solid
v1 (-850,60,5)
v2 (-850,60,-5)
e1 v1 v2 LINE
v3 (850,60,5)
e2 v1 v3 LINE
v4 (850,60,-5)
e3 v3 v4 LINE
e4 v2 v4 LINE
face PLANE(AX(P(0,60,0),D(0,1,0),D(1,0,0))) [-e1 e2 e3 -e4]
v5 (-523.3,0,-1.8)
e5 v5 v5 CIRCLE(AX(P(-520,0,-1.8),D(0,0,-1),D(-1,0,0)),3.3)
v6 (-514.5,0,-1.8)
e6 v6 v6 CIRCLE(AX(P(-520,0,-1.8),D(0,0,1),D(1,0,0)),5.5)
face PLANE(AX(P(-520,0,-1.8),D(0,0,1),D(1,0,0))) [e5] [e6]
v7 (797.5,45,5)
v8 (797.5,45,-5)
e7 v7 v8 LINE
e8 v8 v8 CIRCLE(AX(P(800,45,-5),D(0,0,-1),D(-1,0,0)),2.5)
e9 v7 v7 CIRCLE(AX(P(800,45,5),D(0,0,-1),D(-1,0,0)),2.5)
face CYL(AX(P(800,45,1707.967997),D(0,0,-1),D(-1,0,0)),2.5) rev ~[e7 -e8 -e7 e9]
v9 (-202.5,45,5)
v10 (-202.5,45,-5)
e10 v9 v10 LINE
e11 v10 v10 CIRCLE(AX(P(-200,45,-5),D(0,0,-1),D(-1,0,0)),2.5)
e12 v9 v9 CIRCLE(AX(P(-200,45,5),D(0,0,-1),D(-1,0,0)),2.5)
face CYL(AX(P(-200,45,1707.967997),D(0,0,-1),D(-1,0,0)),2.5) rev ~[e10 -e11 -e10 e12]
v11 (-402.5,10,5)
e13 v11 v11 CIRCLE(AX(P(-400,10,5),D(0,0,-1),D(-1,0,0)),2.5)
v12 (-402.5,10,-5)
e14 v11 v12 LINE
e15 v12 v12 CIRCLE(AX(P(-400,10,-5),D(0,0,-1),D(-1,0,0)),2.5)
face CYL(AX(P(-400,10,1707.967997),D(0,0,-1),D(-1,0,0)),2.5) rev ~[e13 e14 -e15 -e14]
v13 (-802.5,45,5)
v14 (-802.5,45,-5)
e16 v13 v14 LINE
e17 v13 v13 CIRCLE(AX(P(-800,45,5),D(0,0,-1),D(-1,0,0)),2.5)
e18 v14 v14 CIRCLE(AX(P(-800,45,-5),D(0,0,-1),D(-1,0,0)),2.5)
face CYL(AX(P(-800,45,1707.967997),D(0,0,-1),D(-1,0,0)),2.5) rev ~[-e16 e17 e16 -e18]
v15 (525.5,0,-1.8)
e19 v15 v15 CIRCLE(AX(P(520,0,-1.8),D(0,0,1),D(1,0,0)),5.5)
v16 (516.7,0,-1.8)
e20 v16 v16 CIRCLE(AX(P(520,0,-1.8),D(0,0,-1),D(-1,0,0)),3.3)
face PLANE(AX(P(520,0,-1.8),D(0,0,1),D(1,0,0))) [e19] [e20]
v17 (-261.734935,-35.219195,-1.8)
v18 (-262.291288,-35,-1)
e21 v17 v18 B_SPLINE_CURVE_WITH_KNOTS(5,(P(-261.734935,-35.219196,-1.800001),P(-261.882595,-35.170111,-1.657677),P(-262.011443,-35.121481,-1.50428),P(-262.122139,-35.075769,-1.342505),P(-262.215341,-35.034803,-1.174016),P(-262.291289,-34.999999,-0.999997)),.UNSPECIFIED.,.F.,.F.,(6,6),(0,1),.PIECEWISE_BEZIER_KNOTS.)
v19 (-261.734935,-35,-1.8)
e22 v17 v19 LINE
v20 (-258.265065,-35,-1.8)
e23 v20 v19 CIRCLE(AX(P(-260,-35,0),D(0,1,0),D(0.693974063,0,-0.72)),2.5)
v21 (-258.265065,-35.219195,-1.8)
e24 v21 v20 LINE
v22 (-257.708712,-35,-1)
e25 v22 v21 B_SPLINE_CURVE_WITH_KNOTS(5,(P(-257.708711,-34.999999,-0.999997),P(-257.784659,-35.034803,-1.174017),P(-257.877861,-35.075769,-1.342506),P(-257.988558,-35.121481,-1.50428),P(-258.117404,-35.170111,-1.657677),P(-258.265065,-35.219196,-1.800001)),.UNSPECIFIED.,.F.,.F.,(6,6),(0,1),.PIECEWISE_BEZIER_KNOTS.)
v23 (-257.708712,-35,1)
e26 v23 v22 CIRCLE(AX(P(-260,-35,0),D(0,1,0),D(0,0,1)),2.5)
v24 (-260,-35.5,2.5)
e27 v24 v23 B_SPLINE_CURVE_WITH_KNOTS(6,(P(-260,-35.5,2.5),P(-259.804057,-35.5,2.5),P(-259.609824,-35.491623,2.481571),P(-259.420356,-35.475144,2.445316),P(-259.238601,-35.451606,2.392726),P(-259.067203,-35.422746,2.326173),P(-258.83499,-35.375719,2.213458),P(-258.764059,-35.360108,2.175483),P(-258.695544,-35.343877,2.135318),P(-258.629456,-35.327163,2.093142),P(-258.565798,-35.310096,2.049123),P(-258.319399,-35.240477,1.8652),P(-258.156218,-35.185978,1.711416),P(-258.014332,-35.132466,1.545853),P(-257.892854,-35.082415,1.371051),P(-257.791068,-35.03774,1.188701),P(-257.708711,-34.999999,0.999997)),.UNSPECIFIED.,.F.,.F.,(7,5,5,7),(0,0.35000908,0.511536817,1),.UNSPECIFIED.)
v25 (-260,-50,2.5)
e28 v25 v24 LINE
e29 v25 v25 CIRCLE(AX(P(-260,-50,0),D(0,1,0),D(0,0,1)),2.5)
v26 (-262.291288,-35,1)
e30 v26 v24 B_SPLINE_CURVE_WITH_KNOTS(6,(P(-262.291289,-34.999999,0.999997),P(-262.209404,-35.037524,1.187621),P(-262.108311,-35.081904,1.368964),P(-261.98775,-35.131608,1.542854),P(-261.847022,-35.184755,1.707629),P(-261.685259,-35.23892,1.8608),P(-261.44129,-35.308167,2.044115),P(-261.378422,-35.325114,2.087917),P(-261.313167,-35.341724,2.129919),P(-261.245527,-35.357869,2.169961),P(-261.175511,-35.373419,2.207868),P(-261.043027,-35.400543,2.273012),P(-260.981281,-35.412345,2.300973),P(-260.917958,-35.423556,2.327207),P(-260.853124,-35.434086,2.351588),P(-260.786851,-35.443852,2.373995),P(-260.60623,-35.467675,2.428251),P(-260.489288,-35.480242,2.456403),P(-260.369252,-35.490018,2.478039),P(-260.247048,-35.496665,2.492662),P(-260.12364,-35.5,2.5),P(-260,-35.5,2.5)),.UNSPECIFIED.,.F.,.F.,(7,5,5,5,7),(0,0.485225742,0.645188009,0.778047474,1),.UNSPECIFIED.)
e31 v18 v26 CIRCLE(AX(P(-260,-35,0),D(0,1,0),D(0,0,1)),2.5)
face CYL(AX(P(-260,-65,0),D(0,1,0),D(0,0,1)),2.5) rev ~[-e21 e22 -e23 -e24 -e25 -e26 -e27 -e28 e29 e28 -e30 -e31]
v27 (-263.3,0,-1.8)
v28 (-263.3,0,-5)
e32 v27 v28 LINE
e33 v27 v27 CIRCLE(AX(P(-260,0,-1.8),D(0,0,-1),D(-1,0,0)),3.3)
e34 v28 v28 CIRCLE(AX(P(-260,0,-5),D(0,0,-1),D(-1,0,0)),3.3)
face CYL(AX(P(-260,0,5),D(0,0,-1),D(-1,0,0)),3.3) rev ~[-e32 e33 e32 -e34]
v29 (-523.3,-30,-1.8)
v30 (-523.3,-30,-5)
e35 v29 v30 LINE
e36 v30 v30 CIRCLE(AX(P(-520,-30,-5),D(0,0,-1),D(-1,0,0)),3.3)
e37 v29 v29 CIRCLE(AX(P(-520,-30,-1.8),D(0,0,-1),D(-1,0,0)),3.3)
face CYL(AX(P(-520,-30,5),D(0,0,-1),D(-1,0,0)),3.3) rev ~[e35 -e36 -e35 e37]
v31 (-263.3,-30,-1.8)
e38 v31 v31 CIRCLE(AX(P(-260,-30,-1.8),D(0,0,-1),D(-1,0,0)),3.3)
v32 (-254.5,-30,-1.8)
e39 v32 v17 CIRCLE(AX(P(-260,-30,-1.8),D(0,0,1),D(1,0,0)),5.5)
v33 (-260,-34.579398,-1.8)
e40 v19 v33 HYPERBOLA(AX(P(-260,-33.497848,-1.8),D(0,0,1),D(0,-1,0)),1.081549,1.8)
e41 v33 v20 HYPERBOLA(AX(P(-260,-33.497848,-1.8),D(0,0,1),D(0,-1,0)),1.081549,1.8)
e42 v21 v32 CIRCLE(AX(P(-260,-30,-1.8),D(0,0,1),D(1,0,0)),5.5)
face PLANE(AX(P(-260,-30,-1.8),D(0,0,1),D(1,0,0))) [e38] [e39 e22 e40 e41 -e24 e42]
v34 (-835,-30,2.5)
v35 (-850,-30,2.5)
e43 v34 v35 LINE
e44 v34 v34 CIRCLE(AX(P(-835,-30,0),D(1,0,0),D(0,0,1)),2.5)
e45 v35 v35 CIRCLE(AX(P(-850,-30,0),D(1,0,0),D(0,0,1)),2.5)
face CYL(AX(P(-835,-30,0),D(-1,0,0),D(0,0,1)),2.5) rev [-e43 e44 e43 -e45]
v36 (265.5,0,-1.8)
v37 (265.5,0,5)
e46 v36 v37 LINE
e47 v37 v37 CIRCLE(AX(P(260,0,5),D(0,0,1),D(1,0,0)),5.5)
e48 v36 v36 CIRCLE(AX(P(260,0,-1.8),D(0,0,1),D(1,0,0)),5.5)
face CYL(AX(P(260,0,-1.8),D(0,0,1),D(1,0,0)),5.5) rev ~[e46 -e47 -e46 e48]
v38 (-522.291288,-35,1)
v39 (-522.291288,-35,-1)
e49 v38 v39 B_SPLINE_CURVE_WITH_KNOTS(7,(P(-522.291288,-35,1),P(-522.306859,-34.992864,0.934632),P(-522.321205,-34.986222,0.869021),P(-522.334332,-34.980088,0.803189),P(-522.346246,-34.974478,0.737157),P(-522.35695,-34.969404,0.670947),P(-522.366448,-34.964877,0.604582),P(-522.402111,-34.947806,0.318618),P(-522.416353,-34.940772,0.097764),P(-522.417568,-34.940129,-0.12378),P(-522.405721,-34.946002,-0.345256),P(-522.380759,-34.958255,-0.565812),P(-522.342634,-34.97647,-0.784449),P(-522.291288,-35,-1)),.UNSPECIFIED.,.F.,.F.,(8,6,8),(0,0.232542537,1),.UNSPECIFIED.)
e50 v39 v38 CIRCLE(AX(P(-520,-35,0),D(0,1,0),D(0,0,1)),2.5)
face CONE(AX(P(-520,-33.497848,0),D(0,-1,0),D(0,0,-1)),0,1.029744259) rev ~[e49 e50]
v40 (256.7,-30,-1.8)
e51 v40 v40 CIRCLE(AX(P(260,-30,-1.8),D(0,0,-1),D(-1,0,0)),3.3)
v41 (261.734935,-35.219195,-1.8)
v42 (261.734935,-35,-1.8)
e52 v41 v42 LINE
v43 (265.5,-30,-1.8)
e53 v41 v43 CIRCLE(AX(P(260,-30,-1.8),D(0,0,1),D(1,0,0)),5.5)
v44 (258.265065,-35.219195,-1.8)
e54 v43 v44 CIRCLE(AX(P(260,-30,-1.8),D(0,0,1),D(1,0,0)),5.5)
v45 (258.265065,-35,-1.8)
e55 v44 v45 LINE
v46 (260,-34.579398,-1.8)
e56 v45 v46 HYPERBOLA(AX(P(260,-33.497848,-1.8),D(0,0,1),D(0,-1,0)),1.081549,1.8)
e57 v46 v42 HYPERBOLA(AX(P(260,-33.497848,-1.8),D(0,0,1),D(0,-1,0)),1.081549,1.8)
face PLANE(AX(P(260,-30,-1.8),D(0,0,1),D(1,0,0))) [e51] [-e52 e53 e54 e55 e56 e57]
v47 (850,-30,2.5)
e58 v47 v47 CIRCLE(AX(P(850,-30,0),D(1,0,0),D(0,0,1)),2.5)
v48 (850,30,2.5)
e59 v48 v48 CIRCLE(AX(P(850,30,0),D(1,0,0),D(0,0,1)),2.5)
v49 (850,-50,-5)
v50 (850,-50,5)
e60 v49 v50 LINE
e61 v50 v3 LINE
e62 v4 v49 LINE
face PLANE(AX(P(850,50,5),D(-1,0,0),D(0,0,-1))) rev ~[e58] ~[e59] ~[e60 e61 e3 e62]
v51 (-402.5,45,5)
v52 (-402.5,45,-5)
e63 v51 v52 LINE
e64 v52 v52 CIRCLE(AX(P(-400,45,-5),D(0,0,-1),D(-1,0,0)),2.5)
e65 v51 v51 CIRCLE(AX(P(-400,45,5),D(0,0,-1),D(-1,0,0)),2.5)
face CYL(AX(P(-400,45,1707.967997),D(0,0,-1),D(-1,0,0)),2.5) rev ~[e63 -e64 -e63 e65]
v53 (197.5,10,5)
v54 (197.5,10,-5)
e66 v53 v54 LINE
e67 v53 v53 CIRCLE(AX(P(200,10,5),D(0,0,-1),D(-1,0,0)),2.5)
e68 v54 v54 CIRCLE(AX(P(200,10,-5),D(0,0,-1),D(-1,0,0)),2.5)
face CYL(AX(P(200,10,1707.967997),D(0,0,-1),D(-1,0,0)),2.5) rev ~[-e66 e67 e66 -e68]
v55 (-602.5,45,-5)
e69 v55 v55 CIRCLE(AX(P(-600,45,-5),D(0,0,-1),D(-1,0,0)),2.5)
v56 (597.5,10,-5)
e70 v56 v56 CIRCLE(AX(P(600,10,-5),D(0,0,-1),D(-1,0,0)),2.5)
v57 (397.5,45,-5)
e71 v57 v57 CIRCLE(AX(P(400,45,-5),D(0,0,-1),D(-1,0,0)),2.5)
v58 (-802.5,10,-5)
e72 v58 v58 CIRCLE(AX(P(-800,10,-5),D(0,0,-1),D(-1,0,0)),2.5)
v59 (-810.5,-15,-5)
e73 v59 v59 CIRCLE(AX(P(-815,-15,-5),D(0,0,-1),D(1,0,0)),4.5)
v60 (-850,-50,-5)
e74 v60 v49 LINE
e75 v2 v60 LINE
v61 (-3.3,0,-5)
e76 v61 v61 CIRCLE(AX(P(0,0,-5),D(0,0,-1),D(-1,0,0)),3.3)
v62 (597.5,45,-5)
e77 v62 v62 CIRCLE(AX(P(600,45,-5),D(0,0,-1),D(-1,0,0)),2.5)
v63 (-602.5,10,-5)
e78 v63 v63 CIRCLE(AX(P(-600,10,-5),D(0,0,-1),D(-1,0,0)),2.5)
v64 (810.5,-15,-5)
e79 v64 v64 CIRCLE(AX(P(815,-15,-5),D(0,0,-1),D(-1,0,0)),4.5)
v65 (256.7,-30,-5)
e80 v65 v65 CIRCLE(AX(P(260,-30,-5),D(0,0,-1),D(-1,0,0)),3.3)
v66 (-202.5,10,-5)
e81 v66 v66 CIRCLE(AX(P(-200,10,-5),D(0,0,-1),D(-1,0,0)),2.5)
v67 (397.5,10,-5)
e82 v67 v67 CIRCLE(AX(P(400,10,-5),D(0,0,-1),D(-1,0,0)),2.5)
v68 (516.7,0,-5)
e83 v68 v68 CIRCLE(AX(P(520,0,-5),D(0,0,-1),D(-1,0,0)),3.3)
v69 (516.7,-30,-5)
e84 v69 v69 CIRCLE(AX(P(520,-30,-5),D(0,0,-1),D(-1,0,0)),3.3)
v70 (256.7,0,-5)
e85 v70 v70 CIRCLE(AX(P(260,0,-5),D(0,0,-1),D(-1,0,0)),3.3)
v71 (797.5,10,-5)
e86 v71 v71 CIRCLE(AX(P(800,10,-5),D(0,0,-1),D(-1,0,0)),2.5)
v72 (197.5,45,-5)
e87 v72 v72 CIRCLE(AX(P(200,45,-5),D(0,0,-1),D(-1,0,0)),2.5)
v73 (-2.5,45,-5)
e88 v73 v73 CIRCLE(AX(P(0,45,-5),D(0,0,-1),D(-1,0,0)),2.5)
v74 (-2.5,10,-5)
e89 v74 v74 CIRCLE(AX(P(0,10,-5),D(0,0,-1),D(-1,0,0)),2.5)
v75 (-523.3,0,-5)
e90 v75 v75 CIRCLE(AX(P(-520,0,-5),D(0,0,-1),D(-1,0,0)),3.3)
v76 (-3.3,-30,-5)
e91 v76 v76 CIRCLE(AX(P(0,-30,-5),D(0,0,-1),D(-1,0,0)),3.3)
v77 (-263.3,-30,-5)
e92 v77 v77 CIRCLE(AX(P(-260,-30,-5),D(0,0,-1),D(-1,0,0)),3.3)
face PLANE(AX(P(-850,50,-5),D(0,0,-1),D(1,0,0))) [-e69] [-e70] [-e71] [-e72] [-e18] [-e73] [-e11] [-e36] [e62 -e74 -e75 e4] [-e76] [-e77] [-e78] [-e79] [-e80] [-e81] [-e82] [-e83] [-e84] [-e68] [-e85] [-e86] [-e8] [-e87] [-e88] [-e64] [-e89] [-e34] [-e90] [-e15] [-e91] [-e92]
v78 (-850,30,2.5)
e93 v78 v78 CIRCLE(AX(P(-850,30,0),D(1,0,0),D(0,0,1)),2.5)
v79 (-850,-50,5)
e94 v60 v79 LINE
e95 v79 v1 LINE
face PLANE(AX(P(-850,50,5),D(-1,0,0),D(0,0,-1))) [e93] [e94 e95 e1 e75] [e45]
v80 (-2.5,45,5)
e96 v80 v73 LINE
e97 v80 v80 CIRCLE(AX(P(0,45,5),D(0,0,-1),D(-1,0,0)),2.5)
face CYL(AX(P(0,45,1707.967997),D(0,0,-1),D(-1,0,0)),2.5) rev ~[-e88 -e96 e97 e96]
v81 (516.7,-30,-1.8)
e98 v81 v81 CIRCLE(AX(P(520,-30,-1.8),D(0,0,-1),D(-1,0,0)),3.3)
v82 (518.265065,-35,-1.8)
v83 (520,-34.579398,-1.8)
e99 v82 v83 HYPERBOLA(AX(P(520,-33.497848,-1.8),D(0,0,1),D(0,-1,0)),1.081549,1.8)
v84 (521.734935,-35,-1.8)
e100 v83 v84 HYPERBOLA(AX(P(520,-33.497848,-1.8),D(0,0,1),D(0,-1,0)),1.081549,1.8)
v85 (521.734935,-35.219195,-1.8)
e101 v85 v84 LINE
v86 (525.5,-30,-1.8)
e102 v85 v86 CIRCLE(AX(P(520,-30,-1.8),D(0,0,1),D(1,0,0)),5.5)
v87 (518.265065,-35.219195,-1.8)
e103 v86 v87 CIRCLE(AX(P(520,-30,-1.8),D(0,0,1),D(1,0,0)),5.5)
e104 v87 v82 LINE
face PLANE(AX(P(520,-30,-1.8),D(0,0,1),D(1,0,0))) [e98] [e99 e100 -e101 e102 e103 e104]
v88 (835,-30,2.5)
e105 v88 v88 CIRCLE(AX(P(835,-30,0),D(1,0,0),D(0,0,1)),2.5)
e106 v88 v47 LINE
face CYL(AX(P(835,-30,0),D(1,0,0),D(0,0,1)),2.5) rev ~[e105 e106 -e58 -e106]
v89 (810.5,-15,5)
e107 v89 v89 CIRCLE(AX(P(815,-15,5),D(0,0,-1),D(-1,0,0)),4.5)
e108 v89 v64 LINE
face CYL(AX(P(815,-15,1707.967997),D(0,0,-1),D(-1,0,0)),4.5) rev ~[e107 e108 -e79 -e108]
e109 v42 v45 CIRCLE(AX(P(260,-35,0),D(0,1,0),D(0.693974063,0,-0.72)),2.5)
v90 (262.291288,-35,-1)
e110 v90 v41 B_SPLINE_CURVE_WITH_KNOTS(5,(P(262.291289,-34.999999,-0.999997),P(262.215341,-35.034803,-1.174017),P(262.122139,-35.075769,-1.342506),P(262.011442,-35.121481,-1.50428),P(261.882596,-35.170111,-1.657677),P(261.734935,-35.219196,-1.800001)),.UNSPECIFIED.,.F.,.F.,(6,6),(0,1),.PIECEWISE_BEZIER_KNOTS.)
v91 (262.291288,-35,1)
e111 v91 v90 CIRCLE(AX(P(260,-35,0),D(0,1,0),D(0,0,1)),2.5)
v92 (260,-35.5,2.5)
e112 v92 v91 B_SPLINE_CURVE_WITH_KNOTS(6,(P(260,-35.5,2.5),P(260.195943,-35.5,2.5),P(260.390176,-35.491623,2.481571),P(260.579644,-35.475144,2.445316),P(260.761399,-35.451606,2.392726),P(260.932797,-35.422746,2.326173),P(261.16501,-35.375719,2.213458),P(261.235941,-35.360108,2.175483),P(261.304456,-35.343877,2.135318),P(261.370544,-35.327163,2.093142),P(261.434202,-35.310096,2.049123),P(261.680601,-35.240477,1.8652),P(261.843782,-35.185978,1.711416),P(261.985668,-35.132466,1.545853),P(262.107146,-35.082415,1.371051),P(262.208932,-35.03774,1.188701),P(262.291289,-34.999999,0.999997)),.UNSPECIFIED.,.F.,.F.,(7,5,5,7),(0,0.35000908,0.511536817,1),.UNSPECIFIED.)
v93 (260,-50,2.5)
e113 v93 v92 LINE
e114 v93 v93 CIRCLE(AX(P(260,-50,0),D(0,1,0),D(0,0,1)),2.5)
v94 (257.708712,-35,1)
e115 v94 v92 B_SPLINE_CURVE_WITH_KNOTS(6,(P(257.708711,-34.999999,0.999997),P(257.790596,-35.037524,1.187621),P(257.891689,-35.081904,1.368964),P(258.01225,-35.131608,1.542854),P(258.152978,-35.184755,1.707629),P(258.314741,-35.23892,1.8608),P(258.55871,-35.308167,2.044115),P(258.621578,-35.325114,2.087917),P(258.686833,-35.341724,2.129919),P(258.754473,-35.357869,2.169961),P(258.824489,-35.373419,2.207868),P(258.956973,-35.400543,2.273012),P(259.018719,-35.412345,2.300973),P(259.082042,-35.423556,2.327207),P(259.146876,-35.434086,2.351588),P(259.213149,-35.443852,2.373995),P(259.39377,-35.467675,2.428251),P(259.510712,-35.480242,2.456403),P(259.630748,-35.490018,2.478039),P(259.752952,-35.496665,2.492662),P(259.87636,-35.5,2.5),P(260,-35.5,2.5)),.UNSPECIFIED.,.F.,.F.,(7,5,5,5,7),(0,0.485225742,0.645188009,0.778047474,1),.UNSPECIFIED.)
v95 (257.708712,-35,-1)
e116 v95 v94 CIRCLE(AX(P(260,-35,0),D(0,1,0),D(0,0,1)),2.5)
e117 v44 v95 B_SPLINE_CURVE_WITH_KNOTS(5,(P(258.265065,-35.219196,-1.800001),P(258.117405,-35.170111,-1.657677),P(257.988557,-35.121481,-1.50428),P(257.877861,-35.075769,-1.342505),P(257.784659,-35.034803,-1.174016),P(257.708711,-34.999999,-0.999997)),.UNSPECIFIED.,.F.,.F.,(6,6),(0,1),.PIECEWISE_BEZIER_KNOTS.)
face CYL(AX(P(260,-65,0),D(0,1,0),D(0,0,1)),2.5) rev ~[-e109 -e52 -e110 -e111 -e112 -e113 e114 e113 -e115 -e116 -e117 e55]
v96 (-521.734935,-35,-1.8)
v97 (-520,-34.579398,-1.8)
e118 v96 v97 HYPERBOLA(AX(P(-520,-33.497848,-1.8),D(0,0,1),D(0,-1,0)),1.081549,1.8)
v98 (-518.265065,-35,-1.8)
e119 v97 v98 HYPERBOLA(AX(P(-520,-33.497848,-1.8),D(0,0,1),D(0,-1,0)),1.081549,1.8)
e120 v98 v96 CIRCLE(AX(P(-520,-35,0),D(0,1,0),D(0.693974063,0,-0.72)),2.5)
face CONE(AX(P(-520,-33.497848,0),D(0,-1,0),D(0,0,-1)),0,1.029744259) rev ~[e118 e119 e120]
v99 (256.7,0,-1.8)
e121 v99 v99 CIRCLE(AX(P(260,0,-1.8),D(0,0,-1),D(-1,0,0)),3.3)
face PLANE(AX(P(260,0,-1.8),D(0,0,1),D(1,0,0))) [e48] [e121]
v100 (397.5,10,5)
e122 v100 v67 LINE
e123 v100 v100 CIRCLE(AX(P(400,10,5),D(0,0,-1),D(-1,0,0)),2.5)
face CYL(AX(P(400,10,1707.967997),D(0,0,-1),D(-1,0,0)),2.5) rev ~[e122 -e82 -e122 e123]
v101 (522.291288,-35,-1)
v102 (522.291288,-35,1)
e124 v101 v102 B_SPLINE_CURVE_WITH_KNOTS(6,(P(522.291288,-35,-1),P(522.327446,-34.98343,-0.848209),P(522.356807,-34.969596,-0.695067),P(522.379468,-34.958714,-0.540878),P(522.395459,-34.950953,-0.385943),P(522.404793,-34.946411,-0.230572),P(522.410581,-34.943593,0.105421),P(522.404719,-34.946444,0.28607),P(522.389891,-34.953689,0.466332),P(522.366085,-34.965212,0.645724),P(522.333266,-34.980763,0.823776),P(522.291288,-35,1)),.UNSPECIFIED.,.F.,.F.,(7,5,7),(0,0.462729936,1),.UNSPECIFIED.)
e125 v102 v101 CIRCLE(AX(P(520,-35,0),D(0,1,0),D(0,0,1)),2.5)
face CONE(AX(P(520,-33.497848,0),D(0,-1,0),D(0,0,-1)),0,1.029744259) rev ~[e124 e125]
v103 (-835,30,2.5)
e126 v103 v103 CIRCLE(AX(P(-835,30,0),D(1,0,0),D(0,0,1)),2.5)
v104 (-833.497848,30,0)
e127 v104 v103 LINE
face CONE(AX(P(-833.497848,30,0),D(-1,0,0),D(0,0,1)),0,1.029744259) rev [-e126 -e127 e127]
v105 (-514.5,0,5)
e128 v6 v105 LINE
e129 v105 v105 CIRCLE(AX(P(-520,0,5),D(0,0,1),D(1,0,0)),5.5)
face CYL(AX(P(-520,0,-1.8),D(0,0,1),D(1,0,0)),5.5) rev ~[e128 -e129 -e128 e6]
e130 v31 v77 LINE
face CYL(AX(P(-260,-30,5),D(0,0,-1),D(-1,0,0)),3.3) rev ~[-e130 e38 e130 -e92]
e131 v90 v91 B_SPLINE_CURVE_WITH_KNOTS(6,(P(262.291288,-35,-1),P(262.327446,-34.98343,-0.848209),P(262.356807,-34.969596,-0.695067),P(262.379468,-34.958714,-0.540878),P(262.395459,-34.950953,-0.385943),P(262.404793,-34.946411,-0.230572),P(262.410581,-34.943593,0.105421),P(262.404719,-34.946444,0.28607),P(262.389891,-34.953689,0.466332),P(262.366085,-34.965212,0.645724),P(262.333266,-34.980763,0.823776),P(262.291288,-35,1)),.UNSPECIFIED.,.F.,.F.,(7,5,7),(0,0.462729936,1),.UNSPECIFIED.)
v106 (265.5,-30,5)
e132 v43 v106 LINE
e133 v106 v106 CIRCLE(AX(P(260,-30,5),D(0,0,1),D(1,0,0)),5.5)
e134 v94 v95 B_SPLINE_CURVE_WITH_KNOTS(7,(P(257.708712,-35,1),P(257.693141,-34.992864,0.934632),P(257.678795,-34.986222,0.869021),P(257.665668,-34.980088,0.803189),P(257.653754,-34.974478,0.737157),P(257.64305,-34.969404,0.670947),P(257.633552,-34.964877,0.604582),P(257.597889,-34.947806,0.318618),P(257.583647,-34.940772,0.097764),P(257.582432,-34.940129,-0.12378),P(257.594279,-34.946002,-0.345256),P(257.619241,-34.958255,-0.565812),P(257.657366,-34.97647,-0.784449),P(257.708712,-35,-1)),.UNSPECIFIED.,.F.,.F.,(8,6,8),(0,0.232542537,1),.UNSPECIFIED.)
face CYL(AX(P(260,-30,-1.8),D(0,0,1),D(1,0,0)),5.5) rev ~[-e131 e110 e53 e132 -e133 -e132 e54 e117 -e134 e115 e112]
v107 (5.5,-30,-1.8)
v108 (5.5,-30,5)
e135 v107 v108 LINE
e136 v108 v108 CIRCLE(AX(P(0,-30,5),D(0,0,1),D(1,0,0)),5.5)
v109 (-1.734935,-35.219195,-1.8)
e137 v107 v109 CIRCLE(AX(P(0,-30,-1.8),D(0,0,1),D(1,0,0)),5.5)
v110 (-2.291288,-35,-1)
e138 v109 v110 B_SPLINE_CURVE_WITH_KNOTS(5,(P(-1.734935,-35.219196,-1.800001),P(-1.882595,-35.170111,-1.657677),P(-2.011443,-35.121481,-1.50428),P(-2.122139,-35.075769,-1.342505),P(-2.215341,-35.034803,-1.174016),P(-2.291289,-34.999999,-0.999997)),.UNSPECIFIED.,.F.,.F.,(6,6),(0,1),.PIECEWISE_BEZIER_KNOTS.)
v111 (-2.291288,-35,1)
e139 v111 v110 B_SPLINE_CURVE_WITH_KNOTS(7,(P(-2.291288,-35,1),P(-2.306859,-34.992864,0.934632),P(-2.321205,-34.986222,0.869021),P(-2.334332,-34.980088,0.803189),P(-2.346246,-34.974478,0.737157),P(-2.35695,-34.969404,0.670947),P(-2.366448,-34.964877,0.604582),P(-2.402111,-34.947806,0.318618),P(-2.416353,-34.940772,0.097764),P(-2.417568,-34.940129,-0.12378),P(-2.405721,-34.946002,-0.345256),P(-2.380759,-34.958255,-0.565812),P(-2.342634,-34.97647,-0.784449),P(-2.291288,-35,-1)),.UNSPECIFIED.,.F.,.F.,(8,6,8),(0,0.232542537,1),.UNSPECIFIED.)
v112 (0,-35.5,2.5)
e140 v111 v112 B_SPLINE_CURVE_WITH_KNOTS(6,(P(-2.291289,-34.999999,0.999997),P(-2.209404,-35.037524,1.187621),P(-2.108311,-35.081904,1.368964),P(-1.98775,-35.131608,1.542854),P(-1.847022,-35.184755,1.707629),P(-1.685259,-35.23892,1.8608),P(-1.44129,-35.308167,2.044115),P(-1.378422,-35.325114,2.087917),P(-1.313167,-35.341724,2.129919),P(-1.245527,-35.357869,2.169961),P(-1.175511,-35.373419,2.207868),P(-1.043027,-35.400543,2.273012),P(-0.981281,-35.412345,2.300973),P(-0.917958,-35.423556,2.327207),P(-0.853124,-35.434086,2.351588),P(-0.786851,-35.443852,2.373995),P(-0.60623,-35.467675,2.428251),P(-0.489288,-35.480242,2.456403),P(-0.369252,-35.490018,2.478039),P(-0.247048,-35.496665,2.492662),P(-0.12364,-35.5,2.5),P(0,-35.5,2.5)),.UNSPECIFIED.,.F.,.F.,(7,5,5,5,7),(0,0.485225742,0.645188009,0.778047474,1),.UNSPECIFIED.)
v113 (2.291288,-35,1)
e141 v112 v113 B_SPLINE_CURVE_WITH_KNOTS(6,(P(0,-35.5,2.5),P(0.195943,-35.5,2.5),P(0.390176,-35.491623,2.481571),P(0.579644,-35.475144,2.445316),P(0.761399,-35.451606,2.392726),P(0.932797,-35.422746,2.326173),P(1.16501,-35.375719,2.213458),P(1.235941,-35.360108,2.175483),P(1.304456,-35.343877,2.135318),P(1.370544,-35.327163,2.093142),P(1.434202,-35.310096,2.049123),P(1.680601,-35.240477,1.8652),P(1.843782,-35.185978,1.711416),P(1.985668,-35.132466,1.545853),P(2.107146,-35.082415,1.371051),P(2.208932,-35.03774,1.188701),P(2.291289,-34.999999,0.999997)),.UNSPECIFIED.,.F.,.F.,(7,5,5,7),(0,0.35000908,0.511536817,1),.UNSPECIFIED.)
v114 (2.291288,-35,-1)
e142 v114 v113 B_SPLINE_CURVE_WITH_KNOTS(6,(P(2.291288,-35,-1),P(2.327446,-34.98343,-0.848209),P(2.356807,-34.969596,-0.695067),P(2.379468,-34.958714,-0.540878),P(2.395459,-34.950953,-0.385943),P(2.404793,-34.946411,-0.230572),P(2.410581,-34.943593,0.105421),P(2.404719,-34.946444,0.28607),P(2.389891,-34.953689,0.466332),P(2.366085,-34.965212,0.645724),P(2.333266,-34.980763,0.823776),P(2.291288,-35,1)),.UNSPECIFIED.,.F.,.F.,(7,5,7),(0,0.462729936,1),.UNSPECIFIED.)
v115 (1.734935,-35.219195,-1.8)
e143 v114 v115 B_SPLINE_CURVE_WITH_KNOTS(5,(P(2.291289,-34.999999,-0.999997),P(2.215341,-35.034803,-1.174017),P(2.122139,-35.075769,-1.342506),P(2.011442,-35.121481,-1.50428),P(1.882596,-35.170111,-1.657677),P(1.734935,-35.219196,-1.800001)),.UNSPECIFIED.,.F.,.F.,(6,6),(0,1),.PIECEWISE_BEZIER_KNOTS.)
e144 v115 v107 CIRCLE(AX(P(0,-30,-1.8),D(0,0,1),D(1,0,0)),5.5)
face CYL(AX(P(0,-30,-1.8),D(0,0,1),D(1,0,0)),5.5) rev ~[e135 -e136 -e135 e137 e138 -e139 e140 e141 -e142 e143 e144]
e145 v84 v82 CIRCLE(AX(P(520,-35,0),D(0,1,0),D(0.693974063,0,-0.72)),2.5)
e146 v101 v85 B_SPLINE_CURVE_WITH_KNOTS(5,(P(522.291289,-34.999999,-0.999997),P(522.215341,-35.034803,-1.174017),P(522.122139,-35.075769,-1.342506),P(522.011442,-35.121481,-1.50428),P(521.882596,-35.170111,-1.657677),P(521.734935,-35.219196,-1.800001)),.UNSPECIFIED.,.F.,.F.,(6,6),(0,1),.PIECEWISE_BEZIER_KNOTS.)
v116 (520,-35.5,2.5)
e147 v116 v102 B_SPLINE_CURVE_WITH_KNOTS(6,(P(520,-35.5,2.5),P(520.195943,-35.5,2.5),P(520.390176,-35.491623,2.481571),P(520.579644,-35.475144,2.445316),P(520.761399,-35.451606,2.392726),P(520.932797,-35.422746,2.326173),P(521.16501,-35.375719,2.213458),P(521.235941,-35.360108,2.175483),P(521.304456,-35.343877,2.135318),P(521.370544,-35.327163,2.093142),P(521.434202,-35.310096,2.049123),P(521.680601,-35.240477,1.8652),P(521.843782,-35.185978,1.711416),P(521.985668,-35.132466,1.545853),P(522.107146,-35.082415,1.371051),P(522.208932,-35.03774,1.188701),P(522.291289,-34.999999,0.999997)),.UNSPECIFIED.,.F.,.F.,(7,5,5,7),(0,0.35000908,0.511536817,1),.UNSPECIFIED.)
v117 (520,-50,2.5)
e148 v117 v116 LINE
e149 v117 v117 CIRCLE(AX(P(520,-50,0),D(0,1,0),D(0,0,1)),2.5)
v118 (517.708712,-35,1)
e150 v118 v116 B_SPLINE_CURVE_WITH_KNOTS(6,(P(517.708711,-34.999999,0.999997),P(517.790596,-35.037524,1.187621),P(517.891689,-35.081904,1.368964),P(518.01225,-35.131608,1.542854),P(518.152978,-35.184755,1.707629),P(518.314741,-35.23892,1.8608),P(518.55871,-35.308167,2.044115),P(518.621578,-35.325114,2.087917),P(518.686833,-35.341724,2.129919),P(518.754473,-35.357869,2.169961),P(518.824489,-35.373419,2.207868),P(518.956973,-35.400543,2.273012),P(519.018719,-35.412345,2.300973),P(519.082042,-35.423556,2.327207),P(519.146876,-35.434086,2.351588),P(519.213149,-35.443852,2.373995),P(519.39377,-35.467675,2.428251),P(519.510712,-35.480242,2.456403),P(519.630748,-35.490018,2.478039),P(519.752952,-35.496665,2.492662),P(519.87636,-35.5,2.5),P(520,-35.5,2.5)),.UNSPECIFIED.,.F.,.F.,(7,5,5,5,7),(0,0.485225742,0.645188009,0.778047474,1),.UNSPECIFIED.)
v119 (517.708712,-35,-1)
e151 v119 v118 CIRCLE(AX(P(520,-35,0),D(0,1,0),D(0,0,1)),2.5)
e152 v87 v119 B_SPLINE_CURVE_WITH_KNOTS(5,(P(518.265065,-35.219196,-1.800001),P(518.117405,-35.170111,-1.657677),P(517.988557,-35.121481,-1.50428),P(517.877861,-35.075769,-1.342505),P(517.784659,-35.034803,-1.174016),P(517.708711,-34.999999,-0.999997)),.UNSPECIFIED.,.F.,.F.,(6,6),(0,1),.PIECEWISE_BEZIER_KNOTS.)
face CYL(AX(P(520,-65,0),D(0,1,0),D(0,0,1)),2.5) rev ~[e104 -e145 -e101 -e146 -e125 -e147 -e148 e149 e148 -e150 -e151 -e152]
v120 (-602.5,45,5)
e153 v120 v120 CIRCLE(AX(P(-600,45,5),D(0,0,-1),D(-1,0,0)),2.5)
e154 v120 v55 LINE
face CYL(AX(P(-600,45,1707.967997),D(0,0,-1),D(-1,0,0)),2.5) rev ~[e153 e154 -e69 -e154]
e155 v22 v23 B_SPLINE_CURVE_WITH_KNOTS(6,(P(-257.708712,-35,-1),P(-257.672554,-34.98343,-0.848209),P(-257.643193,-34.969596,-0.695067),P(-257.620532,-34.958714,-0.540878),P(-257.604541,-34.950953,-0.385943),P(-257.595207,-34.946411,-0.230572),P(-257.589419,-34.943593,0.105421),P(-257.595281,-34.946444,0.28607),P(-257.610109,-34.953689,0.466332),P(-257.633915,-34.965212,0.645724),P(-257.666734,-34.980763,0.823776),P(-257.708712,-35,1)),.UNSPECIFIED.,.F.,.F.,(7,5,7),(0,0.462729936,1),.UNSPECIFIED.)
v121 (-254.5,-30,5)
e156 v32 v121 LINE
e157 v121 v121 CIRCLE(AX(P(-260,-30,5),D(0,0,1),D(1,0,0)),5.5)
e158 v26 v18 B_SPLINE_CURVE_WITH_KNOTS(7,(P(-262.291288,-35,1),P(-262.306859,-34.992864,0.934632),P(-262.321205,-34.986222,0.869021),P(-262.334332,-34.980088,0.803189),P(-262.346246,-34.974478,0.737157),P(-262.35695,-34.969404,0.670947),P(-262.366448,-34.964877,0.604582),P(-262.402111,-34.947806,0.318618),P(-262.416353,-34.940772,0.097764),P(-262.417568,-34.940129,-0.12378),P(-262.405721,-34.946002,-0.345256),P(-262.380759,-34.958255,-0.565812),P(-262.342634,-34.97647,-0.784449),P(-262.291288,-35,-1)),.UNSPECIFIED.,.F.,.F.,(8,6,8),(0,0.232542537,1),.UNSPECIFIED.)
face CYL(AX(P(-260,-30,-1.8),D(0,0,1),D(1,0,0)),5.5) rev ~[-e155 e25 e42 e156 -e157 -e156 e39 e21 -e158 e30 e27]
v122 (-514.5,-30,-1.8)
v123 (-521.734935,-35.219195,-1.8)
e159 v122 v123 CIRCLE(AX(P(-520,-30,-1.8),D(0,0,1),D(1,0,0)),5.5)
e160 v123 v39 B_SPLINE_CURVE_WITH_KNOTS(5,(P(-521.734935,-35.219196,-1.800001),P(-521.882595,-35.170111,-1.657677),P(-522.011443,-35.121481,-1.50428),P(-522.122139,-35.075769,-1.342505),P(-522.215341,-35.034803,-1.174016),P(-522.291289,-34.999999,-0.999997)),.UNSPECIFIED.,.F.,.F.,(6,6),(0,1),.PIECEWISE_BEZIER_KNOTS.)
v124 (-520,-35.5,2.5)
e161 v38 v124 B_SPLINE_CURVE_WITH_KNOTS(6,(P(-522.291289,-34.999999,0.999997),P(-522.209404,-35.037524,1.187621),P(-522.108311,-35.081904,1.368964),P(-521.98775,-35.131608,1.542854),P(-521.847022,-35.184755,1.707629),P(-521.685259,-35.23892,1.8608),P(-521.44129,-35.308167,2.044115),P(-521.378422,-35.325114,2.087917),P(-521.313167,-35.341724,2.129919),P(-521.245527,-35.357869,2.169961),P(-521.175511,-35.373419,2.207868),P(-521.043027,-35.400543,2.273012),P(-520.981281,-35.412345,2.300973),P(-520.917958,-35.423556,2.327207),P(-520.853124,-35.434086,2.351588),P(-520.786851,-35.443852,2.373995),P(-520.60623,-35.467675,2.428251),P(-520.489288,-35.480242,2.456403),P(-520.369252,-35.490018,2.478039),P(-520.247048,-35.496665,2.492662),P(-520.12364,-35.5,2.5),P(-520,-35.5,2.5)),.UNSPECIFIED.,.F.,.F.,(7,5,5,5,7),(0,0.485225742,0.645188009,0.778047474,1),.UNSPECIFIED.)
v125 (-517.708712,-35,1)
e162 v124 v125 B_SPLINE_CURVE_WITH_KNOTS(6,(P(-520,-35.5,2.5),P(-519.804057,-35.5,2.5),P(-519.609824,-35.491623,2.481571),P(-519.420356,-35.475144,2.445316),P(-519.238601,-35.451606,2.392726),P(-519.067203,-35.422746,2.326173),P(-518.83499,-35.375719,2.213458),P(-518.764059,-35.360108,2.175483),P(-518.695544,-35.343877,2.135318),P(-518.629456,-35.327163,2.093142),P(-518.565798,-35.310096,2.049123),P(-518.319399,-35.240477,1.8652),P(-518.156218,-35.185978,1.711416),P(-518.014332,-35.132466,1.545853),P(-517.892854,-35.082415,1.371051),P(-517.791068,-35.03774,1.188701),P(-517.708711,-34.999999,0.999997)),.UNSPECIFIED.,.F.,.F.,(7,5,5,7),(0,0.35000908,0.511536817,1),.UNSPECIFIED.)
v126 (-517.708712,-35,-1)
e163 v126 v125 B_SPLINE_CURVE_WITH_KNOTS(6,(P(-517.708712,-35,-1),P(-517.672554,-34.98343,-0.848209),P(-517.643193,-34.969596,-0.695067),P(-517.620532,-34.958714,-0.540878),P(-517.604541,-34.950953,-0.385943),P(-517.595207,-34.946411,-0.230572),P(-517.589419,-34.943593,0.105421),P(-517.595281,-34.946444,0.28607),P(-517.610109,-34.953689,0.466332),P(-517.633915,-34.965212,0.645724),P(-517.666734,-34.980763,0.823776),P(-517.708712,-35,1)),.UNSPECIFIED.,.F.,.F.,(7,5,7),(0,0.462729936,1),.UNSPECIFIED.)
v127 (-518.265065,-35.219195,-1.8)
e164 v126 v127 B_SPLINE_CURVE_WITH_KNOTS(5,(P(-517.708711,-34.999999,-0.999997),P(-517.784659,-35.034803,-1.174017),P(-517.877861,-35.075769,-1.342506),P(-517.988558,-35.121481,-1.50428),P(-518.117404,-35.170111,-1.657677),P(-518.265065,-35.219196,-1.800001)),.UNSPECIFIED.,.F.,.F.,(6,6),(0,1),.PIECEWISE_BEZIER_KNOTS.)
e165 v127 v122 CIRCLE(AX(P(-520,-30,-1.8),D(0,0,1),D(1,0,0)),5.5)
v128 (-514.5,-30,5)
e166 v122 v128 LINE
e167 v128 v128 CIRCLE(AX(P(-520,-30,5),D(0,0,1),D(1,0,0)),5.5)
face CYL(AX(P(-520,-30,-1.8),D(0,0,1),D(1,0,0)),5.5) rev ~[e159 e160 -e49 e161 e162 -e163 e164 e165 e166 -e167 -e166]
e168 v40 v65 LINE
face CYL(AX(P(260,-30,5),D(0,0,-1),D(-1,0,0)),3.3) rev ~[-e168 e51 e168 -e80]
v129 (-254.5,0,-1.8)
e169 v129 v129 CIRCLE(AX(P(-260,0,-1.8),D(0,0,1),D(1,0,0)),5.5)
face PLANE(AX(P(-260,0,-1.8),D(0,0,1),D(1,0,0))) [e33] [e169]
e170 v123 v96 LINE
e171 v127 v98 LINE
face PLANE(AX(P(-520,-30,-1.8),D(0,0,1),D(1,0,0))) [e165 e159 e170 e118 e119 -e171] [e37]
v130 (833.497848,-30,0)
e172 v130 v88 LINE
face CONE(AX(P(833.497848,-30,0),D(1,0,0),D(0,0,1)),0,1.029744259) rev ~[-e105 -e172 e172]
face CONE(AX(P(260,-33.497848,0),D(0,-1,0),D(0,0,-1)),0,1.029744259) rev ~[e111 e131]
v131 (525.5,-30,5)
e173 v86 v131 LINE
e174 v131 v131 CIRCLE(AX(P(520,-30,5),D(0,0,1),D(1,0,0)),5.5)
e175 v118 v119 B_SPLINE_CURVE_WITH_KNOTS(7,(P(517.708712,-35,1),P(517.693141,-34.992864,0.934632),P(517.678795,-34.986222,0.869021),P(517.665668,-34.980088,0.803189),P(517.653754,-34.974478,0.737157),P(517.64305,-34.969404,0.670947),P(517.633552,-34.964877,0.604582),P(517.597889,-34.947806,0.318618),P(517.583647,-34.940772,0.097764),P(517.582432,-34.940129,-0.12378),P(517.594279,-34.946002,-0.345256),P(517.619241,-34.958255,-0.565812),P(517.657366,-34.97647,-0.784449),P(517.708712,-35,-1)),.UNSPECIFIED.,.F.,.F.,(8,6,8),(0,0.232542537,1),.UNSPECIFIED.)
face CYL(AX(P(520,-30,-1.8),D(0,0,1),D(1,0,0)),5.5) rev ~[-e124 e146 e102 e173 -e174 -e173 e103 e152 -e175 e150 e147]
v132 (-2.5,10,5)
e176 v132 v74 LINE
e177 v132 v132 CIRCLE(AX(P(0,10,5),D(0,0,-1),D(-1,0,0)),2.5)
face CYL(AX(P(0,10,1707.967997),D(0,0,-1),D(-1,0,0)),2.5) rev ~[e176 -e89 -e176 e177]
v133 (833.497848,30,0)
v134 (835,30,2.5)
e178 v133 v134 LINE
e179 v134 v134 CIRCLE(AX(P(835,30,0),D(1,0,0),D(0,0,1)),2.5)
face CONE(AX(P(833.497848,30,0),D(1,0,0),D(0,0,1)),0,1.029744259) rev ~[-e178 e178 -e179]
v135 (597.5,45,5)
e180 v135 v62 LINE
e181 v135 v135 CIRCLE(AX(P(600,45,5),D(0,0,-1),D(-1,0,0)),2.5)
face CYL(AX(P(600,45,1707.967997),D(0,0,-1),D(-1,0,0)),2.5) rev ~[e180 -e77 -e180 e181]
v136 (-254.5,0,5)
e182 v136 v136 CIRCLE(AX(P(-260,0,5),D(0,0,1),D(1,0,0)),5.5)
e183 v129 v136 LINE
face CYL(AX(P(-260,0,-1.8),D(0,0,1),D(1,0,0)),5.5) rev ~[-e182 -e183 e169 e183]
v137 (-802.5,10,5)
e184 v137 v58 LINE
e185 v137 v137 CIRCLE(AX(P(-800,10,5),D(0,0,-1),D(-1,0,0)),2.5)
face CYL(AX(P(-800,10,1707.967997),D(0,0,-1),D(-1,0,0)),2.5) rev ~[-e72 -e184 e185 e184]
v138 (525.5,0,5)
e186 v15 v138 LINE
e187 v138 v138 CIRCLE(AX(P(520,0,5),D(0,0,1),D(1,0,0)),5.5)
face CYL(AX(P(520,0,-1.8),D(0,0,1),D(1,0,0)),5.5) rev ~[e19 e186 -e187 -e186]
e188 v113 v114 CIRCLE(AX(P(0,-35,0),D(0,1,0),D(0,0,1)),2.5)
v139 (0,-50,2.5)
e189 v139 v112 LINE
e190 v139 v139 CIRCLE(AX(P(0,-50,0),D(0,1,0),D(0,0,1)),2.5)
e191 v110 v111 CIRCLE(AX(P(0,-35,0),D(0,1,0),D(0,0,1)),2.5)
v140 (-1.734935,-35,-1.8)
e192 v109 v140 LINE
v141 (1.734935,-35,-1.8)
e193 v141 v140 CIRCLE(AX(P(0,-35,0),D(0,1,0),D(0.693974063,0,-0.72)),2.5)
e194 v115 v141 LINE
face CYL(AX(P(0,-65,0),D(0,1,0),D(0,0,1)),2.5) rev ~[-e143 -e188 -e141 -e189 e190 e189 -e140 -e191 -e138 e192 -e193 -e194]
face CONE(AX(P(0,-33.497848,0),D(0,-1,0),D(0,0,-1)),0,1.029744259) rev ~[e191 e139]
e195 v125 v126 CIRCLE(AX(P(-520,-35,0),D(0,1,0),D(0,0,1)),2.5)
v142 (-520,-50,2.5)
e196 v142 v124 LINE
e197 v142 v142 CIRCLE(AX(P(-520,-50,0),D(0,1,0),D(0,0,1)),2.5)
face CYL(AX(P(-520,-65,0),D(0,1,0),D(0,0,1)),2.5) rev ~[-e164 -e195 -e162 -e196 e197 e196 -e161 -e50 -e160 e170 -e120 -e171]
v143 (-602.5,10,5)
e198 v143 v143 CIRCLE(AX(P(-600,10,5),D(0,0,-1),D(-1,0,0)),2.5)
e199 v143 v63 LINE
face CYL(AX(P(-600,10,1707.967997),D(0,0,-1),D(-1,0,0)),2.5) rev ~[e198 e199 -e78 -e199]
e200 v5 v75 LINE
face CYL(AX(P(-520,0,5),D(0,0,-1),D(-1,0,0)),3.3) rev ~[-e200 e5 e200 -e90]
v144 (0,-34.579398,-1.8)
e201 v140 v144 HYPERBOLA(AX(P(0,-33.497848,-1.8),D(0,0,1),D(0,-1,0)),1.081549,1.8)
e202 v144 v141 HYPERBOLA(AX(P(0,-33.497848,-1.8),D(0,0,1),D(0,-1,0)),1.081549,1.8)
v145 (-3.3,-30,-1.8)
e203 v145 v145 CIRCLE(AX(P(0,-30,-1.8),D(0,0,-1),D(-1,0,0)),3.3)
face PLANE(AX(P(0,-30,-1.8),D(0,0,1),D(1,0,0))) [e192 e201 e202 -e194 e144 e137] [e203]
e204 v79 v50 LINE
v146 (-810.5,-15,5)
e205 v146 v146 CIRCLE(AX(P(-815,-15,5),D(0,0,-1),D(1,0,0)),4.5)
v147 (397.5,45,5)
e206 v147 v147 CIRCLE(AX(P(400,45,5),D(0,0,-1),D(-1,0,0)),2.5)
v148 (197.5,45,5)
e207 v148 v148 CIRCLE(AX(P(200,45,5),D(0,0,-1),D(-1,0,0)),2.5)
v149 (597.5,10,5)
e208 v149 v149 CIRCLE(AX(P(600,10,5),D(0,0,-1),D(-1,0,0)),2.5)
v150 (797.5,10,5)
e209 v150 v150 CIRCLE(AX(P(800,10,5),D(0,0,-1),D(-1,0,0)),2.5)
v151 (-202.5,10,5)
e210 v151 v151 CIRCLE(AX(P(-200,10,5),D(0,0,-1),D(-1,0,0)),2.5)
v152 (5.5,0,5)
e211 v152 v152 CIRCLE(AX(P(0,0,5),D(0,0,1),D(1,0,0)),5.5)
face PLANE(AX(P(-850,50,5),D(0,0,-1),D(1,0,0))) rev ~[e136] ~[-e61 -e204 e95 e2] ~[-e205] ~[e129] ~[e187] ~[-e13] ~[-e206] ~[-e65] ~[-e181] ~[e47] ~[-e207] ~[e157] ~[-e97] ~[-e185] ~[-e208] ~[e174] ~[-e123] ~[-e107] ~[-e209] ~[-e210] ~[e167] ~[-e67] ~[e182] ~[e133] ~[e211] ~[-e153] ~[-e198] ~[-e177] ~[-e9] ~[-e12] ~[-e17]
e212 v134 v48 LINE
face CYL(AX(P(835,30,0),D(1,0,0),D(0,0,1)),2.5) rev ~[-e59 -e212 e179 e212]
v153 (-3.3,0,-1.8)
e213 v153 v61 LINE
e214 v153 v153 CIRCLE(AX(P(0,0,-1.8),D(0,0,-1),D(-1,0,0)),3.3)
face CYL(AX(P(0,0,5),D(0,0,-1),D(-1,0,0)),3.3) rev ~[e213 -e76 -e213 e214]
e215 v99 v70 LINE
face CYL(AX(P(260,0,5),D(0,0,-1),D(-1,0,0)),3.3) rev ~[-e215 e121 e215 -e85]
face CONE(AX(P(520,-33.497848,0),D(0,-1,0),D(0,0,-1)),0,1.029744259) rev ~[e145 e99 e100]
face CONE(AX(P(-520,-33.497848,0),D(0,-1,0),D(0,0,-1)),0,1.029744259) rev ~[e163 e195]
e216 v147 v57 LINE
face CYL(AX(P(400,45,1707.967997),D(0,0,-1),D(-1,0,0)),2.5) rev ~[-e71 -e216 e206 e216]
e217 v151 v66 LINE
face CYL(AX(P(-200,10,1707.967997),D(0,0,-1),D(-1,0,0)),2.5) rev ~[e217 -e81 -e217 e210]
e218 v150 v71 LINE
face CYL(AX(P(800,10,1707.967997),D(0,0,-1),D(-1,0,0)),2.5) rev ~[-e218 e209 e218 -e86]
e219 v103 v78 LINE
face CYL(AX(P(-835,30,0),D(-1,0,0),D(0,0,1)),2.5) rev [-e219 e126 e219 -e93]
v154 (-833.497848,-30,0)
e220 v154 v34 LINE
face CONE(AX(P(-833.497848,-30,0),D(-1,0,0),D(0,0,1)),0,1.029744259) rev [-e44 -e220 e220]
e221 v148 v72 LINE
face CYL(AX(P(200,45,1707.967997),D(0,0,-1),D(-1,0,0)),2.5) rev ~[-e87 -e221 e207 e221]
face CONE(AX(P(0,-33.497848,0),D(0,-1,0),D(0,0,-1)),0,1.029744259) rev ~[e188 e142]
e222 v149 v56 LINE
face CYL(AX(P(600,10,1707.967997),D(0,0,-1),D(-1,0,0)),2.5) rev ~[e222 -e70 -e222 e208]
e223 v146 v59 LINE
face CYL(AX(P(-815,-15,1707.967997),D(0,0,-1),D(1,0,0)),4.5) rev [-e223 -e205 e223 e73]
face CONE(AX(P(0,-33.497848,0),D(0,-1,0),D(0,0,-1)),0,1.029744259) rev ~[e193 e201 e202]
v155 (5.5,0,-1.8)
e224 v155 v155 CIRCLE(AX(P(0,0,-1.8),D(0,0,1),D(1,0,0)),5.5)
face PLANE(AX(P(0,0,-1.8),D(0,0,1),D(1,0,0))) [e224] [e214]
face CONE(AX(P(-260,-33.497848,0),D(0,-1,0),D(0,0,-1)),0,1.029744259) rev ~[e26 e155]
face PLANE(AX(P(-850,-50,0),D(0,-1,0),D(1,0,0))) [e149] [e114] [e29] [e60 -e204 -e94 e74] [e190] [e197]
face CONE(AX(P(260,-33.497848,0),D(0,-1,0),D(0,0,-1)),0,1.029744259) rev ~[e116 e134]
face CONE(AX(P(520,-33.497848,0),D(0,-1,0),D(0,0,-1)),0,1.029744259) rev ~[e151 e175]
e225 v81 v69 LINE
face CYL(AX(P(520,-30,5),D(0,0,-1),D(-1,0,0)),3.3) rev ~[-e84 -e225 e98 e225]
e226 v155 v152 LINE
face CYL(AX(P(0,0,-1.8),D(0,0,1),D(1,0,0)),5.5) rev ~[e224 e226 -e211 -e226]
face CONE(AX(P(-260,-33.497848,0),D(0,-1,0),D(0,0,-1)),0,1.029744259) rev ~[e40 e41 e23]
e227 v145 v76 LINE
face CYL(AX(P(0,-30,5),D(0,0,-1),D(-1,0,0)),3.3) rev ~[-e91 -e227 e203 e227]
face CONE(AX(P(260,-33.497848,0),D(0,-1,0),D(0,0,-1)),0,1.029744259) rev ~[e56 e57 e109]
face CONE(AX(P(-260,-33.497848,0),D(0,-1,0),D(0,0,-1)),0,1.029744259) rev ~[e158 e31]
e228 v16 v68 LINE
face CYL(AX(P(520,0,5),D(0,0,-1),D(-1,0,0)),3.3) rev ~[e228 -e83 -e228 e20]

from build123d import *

# Parameters (mm, degrees)
SKETCH_1_W                  = 1700
SKETCH_1_H                  = 100
EXTRUDE_1_DEPTH             = 5
HOLE_WIZARD_M6_1_AT_2_COUNT = 2
HOLE_WIZARD_M6_1_AT_2_PITCH = 60
HOLE_WIZARD_M6_2_D          = 5
HOLE_WIZARD_M6_2_DEPTH      = 15
HOLE_WIZARD_M6_2_TIP        = 1.502151548
HOLE_WIZARD_2_D             = 6.6
HOLE_WIZARD_2_CBORE_D       = 11
HOLE_WIZARD_2_CBORE_DEPTH   = 6.8
PATTERN_LINEAR_1_COUNT      = 2
PATTERN_LINEAR_1_PITCH      = 30
HOLE_WIZARD_M6_3_D          = 5
PATTERN_LINEAR_2_COUNT      = 9
PATTERN_LINEAR_2_PITCH      = 200
HOLE_WIZARD_9_0_9_1_D       = 9
SKETCH_25_W                 = 1700
SKETCH_25_H                 = 10
EXTRUDE_2_DEPTH             = 10


with BuildPart() as part:
    # 草图1 → 凸台-拉伸1 (new body, symmetric)
    with BuildSketch(Plane.XY):
        Rectangle(SKETCH_1_W, SKETCH_1_H)
    extrude(amount=EXTRUDE_1_DEPTH, both=True)

    # 草图5 → M6 螺纹孔1 (revolve, cut)
    with BuildSketch(Plane(origin=(-850, 30, 0), x_dir=(0, 0, 1), z_dir=(0, 1, 0))):
        Polygon((0, 0), (0, 16.502151548), (2.5, 15), (2.5, 0), align=None)
    hole_wizard_m6_1 = revolve(axis=Axis((-856.35, 30, 0), (1, 0, 0)), mode=Mode.SUBTRACT)

    # M6 螺纹孔1 at 2: M6 螺纹孔1 ×2
    with Locations(*[(0, -i * HOLE_WIZARD_M6_1_AT_2_PITCH, 0) for i in range(1, HOLE_WIZARD_M6_1_AT_2_COUNT)]):
        add(hole_wizard_m6_1, mode=Mode.SUBTRACT)

    # 镜向1: M6 螺纹孔1 across plane
    add(hole_wizard_m6_1.mirror(Plane(origin=(0, 0, 0), x_dir=(0, 0, 1), z_dir=(1, 0, 0))), mode=Mode.SUBTRACT)

    # 镜向1 copy 1 sketch → 镜向1 copy 1 (revolve, cut)
    with BuildSketch(Plane(origin=(850, -30, 0), x_dir=(0, 0, 1), z_dir=(0, 1, 0))):
        Polygon((0, 0), (0, -16.502151548), (2.5, -15), (2.5, 0), align=None)
    revolve(axis=Axis((856.35, -30, 0), (1, 0, 0)), mode=Mode.SUBTRACT)

    # M6 螺纹孔2
    with Locations(Plane(origin=(-520, -50, 0), x_dir=(0, 0, -1), z_dir=(0, -1, 0))):
        with Locations((0, 0), (0, 260), (0, 520), (0, 780), (0, 1040)):
            Hole(HOLE_WIZARD_M6_2_D / 2, depth=HOLE_WIZARD_M6_2_DEPTH)
            with Locations((0, 0, -(HOLE_WIZARD_M6_2_DEPTH + HOLE_WIZARD_M6_2_TIP / 2))):  # 118° drill point
                Cone(0, HOLE_WIZARD_M6_2_D / 2, HOLE_WIZARD_M6_2_TIP, mode=Mode.SUBTRACT)

    # 打孔尺寸(%根据)内六角圆柱头螺钉的类型2 (through all)
    with Locations(Plane(origin=(520, -30, 5), x_dir=(1, 0, 0), z_dir=(0, 0, 1))):
        with Locations((0, 0), (-260, 0), (-520, 0), (-780, 0), (-1040, 0)):
            hole_wizard_2 = CounterBoreHole(HOLE_WIZARD_2_D / 2, HOLE_WIZARD_2_CBORE_D / 2, HOLE_WIZARD_2_CBORE_DEPTH)

    # 阵列(线性)1: 打孔尺寸(%根据)内六角圆柱头螺钉的类型2 ×2
    with Locations(*[(0, i * PATTERN_LINEAR_1_PITCH, 0) for i in range(1, PATTERN_LINEAR_1_COUNT)]):
        add(hole_wizard_2, mode=Mode.SUBTRACT)

    # M6 螺纹孔3 (through all)
    with Locations(Plane(origin=(-800, 45, 5), x_dir=(1, 0, 0), z_dir=(0, 0, 1))):
        with Locations((0, 0), (0, -35)):
            hole_wizard_m6_3 = Hole(HOLE_WIZARD_M6_3_D / 2)

    # 阵列(线性)2: M6 螺纹孔3 ×9
    with Locations(*[(i * PATTERN_LINEAR_2_PITCH, 0, 0) for i in range(1, PATTERN_LINEAR_2_COUNT)]):
        add(hole_wizard_m6_3, mode=Mode.SUBTRACT)

    # Ø9.0 (9) 直径孔1 (through all)
    with Locations(Plane(origin=(815, -15, 5), x_dir=(1, 0, 0), z_dir=(0, 0, 1))):
        with Locations((0, 0)):
            hole_wizard_9_0_9_1 = Hole(HOLE_WIZARD_9_0_9_1_D / 2)

    # 镜向2: Ø9.0 (9) 直径孔1 across plane
    add(hole_wizard_9_0_9_1.mirror(Plane(origin=(0, 0, 0), x_dir=(0, 0, 1), z_dir=(1, 0, 0))), mode=Mode.SUBTRACT)

    # 草图25 → 凸台-拉伸2 (add)
    with BuildSketch(Plane(origin=(0, 50, 0), x_dir=(1, 0, 0), z_dir=(0, 1, 0))):
        Rectangle(SKETCH_25_W, SKETCH_25_H)
    extrude(amount=EXTRUDE_2_DEPTH)


solid = part.part
